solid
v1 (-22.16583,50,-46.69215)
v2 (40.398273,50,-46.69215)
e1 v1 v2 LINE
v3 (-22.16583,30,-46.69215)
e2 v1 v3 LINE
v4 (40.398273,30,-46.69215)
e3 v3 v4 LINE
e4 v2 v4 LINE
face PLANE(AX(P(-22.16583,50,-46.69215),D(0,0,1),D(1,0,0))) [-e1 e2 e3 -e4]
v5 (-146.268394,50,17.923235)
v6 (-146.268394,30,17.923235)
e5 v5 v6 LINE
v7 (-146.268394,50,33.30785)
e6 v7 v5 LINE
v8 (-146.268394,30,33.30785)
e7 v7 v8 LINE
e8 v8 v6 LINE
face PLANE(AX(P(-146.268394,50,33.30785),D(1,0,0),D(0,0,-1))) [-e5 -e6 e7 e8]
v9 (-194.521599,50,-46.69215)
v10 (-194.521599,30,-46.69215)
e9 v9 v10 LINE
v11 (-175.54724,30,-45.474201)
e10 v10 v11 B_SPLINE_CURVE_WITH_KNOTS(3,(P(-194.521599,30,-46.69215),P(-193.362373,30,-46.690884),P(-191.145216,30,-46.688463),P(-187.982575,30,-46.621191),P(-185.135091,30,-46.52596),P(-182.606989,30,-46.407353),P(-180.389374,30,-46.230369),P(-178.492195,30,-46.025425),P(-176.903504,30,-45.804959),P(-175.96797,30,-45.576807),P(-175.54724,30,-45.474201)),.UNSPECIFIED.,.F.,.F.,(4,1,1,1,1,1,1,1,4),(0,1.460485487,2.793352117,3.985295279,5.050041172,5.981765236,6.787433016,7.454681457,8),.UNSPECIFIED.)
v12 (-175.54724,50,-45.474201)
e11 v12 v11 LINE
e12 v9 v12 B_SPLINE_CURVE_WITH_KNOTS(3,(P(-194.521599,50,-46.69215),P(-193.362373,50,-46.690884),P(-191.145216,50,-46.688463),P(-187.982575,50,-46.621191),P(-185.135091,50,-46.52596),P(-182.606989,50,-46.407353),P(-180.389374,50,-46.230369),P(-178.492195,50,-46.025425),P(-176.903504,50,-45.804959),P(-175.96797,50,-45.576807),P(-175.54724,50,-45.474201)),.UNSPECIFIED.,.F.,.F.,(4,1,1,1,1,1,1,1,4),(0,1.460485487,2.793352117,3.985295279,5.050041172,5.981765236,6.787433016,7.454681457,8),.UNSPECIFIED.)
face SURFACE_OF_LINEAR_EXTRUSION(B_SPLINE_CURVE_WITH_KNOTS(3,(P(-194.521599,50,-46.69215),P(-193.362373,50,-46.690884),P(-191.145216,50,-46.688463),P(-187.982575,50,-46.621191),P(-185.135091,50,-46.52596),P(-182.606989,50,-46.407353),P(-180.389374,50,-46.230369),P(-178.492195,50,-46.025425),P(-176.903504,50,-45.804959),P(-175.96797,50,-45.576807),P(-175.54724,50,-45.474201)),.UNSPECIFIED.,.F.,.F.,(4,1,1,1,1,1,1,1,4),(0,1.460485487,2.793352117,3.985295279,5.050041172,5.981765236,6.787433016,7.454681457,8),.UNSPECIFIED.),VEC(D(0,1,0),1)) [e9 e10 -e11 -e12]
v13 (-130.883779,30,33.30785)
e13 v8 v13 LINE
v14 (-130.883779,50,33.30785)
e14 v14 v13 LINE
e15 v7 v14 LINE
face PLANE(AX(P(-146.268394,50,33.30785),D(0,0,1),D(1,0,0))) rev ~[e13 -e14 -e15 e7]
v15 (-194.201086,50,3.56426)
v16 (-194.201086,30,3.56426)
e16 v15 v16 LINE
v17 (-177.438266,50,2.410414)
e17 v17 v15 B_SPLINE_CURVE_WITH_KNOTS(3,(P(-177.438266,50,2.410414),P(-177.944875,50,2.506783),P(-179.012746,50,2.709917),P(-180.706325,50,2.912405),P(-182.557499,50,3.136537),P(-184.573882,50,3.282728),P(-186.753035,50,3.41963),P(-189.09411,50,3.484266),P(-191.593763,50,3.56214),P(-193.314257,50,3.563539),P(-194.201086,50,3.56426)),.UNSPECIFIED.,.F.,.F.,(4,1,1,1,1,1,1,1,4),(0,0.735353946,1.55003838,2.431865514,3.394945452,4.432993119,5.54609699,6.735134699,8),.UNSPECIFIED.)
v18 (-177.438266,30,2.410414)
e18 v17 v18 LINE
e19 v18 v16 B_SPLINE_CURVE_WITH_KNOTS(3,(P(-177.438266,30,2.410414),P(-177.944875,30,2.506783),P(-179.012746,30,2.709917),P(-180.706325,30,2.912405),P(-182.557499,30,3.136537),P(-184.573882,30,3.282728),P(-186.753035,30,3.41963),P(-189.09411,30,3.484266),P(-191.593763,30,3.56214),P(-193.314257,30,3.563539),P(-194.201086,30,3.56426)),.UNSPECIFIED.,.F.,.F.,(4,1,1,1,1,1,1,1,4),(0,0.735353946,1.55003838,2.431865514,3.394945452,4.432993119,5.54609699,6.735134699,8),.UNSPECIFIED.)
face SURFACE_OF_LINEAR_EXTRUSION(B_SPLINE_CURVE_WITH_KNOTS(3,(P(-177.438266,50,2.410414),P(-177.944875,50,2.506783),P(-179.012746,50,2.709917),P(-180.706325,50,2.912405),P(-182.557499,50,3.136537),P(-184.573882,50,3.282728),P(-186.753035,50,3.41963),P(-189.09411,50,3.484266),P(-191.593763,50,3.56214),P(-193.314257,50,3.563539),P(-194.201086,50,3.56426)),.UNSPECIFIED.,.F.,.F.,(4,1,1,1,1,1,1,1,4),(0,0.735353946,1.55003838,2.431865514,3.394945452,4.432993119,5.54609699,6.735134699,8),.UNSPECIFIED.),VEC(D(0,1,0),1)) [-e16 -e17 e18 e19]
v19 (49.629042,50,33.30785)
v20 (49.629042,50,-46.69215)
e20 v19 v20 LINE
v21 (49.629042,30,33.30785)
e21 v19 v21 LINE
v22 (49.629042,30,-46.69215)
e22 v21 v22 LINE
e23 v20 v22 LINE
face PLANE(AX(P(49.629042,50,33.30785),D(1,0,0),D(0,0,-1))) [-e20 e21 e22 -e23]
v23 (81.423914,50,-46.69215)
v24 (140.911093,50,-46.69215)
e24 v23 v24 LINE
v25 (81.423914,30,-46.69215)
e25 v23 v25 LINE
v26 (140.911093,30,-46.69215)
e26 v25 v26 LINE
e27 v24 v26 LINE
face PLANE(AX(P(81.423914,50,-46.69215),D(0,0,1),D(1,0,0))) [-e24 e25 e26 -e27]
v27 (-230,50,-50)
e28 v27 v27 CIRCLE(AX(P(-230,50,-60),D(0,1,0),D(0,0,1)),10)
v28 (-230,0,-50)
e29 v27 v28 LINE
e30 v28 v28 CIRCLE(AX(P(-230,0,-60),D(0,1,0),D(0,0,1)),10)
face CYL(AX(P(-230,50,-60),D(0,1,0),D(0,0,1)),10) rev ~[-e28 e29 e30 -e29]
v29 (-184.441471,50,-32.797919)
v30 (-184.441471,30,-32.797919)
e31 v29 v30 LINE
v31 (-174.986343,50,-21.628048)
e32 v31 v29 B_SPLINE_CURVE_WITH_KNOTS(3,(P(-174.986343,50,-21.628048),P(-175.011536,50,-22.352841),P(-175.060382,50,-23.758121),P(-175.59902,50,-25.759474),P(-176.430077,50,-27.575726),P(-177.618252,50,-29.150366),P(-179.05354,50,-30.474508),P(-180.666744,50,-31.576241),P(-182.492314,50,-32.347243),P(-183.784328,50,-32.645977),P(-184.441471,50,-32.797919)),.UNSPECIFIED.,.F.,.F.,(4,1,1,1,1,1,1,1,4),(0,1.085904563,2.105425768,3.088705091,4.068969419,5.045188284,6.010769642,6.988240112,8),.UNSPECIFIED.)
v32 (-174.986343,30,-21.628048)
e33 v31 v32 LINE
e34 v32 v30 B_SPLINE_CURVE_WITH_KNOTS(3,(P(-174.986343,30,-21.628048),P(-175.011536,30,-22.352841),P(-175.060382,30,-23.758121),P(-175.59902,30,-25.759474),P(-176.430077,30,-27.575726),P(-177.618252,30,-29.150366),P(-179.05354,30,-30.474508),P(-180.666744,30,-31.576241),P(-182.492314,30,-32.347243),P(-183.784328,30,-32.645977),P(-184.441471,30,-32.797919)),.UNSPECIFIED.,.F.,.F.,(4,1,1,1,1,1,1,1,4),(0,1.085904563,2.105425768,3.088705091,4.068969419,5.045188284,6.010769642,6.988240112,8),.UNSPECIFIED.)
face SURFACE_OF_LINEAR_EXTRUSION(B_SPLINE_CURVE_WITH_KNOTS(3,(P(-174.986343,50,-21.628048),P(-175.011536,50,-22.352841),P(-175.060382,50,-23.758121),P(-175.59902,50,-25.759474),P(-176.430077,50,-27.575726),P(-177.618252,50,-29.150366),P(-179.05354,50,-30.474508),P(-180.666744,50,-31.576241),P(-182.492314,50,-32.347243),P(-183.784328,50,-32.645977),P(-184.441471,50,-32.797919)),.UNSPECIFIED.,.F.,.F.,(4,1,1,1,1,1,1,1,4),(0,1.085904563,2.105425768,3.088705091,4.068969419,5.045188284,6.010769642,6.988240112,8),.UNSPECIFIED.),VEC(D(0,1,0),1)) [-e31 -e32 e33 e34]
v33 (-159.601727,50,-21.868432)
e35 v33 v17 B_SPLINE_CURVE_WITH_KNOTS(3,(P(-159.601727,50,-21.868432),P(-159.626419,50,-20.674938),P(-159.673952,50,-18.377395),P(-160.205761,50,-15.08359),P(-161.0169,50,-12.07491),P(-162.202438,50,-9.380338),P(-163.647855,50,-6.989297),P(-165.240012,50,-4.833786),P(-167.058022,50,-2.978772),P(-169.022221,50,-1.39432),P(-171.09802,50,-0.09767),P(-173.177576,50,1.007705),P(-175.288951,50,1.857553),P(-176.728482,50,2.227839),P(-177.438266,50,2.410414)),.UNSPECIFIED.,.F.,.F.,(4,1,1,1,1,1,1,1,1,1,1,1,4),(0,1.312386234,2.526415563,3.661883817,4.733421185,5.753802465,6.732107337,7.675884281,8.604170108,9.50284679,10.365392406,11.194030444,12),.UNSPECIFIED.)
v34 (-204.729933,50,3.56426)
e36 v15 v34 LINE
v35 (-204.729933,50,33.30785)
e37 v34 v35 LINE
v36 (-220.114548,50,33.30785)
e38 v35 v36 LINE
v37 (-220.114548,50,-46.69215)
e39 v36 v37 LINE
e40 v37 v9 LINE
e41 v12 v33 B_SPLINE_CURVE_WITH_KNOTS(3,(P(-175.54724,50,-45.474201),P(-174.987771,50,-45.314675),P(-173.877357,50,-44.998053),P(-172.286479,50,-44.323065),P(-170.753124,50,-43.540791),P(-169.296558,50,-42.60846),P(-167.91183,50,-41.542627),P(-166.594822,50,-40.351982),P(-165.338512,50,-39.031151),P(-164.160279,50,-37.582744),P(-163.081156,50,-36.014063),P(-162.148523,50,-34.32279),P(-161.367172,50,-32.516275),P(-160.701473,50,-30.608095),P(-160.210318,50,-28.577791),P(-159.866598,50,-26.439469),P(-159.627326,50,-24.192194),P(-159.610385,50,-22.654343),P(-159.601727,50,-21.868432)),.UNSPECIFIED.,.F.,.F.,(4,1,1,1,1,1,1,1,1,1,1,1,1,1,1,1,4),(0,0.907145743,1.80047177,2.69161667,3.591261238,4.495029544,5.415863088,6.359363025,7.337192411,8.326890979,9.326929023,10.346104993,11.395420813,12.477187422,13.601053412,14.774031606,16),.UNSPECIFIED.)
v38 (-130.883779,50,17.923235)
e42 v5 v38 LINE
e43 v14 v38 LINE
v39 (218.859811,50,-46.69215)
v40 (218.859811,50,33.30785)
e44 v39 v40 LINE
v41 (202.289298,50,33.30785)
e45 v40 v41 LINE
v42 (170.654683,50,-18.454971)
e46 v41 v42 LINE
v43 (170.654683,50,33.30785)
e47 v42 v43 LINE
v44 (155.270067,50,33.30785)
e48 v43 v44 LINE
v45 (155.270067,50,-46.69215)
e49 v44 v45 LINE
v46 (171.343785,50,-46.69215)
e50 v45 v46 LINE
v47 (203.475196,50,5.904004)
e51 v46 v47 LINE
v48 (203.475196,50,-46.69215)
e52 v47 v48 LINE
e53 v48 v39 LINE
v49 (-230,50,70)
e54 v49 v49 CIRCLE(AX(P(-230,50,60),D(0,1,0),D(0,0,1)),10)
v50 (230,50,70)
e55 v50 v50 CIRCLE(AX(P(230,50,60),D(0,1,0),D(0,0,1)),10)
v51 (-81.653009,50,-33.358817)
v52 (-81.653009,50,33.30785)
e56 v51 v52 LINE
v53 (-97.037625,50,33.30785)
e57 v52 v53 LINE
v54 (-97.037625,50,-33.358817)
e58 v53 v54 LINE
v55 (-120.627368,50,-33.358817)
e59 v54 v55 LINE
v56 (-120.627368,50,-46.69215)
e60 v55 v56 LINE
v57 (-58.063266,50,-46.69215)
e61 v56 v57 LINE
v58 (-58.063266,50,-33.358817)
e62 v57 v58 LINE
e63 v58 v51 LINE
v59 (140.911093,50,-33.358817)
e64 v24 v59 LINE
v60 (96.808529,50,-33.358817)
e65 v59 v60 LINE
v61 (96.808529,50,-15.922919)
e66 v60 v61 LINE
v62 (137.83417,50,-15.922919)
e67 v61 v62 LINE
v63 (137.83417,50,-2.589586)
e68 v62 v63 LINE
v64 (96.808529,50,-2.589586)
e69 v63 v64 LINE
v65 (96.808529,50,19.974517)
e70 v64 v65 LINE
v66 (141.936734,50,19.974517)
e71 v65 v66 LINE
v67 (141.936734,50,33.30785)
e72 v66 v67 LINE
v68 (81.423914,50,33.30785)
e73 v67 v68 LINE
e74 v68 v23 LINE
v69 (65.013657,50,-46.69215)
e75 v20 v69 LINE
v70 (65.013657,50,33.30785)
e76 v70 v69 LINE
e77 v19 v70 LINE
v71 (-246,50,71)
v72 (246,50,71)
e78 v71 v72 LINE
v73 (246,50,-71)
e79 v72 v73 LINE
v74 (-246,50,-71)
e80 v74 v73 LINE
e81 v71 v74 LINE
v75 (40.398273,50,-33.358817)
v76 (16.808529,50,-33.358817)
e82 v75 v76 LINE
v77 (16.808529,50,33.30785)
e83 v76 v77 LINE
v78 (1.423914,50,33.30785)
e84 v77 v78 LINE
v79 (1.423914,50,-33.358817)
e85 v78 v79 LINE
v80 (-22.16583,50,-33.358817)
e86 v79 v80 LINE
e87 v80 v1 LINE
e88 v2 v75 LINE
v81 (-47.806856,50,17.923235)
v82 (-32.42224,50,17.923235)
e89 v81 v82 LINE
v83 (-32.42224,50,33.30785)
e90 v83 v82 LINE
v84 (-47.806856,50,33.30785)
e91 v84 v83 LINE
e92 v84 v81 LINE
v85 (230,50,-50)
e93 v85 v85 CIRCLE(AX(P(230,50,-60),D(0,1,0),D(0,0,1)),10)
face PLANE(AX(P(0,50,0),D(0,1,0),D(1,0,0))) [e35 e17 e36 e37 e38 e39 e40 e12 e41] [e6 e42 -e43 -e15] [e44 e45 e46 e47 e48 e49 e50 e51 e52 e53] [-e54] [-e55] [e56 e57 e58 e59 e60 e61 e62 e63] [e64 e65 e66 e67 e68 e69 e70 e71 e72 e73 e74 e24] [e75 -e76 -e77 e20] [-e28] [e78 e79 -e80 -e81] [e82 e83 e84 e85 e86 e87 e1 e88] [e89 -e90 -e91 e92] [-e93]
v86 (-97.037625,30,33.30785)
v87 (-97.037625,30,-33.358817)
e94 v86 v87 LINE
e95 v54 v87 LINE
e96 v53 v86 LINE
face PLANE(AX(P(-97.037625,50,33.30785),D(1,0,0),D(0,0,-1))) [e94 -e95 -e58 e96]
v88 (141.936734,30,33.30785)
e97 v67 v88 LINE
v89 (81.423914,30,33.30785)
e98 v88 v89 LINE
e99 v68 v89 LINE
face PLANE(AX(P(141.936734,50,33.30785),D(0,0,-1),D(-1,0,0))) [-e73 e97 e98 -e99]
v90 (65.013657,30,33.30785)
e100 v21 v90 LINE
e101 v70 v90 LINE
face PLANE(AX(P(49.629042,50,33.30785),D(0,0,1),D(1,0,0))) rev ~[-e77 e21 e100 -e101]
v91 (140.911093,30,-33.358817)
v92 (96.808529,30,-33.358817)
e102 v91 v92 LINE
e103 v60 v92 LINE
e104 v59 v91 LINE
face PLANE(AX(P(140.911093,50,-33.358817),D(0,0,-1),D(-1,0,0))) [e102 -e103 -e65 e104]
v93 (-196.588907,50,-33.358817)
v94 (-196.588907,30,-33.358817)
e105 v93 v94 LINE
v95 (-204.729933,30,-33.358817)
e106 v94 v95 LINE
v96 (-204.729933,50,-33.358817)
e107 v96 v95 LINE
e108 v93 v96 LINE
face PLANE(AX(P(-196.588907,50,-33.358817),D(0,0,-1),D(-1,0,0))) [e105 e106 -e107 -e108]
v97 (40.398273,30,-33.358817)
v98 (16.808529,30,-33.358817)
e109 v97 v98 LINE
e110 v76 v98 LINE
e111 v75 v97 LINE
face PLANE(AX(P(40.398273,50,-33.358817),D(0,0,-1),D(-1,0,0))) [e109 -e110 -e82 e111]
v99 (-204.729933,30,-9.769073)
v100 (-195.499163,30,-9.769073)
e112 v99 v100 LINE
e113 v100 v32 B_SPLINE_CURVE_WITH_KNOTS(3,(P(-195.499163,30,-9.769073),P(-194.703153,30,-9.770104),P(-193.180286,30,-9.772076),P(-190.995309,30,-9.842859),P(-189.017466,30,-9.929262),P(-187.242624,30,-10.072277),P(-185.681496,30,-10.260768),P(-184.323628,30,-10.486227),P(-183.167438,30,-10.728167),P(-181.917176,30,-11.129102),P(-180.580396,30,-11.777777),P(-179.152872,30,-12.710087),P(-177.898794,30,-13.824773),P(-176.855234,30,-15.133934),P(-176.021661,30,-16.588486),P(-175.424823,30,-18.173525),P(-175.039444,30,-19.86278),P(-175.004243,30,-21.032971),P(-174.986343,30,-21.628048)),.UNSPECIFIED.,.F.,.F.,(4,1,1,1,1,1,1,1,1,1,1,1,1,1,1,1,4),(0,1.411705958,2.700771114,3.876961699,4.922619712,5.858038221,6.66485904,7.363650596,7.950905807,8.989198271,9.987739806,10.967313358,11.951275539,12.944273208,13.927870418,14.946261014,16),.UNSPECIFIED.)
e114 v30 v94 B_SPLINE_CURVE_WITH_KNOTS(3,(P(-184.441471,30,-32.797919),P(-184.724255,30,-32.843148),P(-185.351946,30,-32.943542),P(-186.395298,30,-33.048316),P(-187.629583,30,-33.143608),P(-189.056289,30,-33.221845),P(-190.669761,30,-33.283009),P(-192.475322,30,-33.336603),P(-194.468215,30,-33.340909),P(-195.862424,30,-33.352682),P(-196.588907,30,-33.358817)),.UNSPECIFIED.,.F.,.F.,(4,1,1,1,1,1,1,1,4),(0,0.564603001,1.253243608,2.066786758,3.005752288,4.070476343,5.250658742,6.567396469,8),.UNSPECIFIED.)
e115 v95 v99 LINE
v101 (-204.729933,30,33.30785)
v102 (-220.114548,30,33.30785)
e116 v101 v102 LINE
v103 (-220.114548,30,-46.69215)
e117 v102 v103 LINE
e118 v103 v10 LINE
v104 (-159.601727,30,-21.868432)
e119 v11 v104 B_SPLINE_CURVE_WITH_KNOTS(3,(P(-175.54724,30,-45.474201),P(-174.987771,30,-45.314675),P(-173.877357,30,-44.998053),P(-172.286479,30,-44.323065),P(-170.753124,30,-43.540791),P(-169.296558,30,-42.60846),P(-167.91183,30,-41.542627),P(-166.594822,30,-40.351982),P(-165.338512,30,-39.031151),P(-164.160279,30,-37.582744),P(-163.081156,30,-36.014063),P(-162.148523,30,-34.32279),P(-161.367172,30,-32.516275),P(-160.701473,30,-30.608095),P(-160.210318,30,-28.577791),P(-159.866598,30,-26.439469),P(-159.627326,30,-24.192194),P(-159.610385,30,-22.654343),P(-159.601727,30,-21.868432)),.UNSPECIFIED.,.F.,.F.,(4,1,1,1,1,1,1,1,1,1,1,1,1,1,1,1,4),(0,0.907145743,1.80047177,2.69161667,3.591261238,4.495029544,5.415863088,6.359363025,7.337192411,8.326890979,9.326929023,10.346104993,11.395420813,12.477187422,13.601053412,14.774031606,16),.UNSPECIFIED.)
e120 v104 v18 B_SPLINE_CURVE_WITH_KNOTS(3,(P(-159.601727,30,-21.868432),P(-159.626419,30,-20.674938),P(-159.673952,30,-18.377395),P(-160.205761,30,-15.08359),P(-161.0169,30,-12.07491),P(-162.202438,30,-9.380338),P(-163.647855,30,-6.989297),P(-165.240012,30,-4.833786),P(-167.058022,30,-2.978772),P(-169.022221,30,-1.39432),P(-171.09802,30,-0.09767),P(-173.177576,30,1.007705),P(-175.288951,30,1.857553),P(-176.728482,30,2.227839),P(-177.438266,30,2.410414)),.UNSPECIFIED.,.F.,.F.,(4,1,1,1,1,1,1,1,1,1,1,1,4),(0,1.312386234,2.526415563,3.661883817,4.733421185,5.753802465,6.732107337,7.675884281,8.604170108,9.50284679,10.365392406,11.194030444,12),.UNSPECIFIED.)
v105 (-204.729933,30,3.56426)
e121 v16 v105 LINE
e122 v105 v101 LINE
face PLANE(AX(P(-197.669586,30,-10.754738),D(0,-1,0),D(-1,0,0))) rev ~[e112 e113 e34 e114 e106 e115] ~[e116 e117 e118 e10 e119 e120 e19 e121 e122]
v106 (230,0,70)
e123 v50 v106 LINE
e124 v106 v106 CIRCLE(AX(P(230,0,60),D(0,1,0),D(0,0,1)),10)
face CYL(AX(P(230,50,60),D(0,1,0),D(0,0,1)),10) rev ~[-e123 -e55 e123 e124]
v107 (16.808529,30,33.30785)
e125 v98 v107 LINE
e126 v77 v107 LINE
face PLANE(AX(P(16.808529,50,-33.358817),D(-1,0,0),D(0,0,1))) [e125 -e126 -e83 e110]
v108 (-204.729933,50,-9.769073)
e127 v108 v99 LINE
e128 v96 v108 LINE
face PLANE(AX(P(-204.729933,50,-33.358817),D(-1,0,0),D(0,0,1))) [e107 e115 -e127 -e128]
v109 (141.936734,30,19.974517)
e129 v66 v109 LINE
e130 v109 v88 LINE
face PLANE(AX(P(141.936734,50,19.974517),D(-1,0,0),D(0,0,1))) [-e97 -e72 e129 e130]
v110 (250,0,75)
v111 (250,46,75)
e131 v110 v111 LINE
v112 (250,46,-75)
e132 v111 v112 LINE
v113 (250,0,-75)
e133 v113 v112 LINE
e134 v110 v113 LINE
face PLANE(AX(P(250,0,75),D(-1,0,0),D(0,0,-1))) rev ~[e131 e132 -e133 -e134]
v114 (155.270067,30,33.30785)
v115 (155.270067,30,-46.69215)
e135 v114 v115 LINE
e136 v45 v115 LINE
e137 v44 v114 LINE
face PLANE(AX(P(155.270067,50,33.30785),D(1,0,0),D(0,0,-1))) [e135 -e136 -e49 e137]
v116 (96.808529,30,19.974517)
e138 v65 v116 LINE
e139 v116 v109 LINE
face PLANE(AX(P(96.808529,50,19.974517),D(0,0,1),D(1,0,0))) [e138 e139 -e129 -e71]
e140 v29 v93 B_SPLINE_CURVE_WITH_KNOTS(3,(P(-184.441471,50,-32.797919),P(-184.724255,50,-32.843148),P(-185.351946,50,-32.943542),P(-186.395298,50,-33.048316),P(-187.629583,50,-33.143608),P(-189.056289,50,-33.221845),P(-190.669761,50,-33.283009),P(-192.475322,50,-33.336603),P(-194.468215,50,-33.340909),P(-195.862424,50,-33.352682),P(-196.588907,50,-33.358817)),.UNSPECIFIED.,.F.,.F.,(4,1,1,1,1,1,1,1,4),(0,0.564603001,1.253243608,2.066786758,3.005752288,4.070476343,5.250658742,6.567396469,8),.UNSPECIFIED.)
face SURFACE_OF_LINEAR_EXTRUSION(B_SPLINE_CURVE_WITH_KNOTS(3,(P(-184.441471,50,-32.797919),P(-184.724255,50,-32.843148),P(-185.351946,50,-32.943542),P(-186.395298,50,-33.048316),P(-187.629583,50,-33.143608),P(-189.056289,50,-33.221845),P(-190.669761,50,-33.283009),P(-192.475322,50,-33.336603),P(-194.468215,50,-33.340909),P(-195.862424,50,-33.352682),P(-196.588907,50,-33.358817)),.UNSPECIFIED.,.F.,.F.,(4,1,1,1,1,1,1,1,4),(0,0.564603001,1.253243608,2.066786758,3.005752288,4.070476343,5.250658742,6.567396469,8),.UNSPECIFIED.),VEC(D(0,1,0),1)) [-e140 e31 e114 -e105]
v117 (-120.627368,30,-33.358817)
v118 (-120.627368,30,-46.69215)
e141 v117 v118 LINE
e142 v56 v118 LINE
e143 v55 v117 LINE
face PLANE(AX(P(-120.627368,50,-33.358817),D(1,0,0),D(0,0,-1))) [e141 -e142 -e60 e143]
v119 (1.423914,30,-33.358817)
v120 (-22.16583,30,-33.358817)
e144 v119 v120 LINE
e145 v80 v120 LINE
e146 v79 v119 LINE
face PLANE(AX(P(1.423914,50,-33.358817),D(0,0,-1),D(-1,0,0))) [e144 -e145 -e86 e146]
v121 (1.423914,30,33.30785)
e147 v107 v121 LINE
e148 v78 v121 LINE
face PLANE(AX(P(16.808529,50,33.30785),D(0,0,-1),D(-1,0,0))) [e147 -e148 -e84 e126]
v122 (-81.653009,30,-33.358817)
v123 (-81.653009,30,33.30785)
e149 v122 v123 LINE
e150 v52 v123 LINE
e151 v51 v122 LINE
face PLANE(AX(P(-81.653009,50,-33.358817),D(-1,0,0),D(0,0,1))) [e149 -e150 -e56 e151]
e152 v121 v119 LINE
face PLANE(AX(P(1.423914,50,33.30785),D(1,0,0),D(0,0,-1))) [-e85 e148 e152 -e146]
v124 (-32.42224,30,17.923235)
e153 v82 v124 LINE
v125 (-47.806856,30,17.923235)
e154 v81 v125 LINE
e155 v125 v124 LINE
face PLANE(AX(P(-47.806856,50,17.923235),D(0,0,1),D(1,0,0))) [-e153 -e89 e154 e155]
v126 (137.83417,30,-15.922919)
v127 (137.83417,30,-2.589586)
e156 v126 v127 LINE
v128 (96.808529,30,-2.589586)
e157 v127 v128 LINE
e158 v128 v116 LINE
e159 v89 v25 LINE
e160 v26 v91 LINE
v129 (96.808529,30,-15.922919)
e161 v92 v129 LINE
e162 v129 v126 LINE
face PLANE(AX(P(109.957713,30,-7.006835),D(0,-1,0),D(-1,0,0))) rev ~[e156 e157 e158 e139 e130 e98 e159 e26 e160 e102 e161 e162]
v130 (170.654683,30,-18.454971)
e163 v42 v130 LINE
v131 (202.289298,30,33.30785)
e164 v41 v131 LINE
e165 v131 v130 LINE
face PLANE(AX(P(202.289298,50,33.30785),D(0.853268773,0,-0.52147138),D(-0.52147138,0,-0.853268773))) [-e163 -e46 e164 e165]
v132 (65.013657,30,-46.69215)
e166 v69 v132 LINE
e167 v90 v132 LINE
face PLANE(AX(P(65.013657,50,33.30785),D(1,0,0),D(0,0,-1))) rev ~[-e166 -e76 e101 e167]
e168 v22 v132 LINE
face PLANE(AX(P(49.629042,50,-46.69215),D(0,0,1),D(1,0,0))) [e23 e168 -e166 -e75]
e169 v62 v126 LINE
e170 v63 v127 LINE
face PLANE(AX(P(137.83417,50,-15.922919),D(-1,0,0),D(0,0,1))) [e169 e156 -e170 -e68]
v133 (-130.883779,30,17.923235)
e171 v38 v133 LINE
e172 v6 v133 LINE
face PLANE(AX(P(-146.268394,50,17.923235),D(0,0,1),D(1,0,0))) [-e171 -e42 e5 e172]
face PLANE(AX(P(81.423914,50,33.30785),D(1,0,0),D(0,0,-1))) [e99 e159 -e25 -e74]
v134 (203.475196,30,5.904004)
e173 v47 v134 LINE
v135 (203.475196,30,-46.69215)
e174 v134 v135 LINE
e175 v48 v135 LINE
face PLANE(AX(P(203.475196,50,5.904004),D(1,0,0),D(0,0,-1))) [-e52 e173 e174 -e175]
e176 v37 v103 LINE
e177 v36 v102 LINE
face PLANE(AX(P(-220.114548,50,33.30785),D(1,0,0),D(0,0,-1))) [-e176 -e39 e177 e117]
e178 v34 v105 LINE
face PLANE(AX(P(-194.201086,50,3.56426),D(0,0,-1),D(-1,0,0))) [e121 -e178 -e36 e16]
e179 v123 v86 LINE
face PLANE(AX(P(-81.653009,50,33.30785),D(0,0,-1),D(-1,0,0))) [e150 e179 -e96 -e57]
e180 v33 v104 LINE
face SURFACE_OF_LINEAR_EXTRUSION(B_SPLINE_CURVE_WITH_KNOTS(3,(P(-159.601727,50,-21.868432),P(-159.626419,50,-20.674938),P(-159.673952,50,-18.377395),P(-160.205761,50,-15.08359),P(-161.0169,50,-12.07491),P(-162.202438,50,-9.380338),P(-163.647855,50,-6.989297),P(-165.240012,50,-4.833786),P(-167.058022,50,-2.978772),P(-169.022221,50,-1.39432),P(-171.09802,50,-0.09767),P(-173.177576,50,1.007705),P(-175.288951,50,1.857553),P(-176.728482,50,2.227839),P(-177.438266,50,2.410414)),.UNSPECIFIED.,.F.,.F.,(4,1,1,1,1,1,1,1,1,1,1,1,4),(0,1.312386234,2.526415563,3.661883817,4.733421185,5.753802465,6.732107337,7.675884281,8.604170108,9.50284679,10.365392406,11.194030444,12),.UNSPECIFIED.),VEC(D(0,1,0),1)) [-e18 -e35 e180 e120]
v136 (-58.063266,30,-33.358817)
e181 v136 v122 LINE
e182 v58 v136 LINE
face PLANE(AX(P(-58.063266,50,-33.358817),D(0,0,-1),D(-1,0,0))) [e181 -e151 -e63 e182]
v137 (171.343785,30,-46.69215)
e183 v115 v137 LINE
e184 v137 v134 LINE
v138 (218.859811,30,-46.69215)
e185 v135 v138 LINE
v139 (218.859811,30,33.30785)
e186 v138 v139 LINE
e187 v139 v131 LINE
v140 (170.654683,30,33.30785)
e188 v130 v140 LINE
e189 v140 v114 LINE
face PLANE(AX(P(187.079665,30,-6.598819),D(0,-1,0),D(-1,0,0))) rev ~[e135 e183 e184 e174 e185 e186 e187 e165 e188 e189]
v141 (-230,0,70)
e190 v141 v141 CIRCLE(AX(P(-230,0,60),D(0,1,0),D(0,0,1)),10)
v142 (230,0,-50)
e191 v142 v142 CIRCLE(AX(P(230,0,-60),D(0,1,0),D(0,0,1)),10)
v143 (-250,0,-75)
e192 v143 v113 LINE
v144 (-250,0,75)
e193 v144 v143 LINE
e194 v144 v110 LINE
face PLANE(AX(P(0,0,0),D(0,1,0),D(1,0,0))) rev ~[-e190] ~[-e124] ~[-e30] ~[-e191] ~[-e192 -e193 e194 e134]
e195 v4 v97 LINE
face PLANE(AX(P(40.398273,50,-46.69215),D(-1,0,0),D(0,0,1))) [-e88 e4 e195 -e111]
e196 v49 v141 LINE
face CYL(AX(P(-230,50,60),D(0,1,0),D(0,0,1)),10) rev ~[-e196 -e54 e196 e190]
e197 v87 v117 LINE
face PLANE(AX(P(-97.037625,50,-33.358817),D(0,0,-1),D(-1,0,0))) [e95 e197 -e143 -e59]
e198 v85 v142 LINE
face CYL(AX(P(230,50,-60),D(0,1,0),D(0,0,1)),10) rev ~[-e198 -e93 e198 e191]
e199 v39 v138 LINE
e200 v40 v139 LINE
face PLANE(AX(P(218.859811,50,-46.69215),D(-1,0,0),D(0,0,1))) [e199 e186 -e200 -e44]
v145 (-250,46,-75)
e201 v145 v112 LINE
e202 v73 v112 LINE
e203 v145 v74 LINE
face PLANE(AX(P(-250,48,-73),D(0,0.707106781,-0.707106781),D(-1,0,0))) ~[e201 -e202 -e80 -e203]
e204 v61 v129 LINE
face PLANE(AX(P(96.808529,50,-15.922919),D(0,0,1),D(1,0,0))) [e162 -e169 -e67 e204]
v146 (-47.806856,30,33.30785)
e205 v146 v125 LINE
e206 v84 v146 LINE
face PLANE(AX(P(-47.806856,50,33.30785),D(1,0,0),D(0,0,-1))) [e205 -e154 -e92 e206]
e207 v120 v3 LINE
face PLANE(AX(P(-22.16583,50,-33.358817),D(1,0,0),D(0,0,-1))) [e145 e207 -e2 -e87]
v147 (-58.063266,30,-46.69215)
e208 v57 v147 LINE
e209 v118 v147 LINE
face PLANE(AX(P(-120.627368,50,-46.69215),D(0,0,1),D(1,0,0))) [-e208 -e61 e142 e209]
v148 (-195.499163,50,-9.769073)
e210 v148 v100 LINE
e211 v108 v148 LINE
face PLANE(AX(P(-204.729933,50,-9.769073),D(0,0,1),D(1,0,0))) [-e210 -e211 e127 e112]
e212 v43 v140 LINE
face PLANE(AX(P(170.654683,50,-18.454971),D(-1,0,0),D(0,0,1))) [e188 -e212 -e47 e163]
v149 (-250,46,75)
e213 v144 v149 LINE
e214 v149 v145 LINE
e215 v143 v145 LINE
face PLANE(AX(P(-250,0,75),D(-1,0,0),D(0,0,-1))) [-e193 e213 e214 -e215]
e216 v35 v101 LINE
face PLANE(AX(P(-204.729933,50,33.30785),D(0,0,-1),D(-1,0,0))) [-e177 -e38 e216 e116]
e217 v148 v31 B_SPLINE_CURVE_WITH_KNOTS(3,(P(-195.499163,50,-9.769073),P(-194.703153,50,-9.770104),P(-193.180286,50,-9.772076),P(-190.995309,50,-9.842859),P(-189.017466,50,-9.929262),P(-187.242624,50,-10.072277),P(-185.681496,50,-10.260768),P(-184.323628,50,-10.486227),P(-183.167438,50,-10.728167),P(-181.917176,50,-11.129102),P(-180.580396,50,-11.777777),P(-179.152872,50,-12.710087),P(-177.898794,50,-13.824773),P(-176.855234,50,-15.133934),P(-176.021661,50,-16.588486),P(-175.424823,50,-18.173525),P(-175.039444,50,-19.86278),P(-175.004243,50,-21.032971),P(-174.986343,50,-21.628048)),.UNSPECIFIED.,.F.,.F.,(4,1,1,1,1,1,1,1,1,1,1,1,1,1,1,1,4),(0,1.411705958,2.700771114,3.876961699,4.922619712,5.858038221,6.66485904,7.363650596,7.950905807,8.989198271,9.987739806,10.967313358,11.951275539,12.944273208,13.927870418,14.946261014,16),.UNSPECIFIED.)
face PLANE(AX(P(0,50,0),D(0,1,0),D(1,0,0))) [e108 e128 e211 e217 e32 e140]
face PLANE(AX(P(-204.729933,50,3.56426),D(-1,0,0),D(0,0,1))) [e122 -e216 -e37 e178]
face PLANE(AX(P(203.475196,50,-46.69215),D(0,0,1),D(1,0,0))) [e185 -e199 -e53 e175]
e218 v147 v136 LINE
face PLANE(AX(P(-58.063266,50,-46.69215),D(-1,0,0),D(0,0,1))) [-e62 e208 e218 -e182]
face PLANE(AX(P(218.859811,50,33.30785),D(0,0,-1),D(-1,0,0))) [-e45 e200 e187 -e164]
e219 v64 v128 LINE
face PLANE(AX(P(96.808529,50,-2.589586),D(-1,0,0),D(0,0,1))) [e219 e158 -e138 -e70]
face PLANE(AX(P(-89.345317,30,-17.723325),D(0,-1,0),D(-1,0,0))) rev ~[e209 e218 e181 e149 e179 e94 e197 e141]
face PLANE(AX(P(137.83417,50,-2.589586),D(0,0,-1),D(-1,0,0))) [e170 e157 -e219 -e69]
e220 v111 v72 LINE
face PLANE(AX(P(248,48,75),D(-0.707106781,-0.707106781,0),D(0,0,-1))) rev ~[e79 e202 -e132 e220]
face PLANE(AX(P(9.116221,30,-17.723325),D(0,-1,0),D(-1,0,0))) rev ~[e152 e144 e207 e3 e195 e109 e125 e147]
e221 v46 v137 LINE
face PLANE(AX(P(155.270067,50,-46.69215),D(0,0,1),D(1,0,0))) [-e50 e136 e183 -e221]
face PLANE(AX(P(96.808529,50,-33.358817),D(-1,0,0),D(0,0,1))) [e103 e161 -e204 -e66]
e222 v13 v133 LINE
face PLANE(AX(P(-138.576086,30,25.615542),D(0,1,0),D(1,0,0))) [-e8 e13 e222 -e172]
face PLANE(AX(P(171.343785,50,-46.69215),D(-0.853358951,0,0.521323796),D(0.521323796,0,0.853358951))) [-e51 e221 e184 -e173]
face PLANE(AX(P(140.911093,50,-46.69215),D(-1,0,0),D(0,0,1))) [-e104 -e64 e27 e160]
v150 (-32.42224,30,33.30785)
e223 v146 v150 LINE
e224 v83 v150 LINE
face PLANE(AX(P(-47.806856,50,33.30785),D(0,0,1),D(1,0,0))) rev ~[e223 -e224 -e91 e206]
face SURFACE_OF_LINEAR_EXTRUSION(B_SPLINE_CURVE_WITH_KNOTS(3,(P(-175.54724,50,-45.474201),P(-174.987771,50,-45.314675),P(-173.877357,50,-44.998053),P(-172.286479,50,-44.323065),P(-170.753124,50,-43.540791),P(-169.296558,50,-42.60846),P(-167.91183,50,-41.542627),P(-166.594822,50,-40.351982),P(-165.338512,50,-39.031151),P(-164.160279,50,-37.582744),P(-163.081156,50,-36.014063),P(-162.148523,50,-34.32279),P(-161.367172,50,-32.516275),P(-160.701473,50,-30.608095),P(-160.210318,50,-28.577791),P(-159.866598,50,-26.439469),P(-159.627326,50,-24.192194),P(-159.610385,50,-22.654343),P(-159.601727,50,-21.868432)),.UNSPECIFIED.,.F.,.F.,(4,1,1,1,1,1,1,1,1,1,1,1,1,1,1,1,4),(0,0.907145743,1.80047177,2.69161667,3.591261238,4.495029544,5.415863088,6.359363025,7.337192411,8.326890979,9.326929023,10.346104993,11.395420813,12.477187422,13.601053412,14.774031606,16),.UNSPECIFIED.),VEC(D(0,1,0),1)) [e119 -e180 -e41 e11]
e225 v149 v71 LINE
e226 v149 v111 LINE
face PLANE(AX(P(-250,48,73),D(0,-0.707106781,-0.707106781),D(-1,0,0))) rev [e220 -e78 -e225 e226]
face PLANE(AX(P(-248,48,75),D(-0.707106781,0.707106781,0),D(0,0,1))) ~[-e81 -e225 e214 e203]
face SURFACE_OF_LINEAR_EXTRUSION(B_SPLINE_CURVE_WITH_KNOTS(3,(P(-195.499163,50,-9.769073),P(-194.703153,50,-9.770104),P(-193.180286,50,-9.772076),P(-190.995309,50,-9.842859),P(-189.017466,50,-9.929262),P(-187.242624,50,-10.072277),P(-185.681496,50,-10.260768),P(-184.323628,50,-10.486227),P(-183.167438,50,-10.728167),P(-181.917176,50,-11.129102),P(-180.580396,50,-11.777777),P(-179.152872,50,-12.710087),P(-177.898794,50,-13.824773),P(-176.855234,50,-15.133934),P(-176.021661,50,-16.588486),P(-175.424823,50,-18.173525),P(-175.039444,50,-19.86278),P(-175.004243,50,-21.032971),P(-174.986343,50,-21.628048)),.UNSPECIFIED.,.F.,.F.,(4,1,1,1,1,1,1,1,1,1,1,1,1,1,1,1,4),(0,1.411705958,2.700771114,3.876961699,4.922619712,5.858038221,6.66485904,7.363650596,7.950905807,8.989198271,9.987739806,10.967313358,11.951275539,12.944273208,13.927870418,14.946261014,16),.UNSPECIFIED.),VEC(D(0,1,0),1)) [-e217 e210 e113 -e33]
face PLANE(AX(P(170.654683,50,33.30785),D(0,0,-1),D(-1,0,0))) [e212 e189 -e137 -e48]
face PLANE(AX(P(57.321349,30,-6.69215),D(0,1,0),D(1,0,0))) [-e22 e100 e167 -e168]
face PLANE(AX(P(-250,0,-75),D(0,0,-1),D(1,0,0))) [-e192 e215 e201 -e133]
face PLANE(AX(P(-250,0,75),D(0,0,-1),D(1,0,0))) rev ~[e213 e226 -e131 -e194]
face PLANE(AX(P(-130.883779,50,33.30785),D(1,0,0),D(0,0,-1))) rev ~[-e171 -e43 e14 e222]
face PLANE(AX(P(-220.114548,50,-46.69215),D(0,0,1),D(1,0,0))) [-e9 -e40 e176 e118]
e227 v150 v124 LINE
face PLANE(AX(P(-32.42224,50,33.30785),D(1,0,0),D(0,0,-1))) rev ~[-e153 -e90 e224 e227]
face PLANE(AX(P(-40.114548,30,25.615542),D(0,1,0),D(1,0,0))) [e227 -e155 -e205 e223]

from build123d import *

# Parameters (mm, degrees)
SKETCH1_W           = 500
SKETCH1_H           = 150
BOSS_EXTRUDE1_DEPTH = 50
SKETCH2_W           = 15.384615385
SKETCH2_H           = 15.384615384
SKETCH2_W_2         = 15.384615384
SKETCH2_H_2         = 80
CUT_EXTRUDE1_DEPTH  = 20
SKETCH3_R           = 10
CUT_EXTRUDE2_DEPTH  = 266.753645441
CHAMFER1_SIZE       = 4


with BuildPart() as part:
    # Sketch1 → Boss-Extrude1 (new body)
    with BuildSketch(Plane(origin=(0, 0, 0), x_dir=(1, 0, 0), z_dir=(0, 1, 0))):
        Rectangle(SKETCH1_W, SKETCH1_H)
    extrude(amount=BOSS_EXTRUDE1_DEPTH)

    # Sketch2 → Cut-Extrude1 (cut)
    # profile 1 of 8: a face of its own
    with BuildSketch(Plane(origin=(0, 50, 0), x_dir=(1, 0, 0), z_dir=(0, 1, 0))):
        with BuildLine():
            Line((-220.114547961, -33.307849889), (-220.114547961, 46.692150111))
            Line((-220.114547961, 46.692150111), (-194.521599243, 46.692150111))
            add(Edge.make_bspline(
                [(-194.521599243, 46.692150111), (-193.362373318, 46.690884181), (-191.145215926, 46.68846294), (-187.982575017, 46.621190731), (-185.135090695, 46.525959504), (-182.606989081, 46.407353042), (-180.389374452, 46.23036942), (-178.492194776, 46.025425049), (-176.903503637, 45.804959291), (-175.967970488, 45.576806717), (-175.547240269, 45.474201393)],
                knots=[0, 0, 0, 0, 1.460485487, 2.793352117, 3.985295279, 5.050041172, 5.981765236, 6.787433016, 7.454681457, 8, 8, 8, 8], degree=3))
            add(Edge.make_bspline(
                [(-175.547240269, 45.474201393), (-174.987771388, 45.314675255), (-173.877356736, 44.998053247), (-172.286478808, 44.323065419), (-170.753124402, 43.540790537), (-169.296558471, 42.608460279), (-167.911829693, 41.542626797), (-166.594822019, 40.351982104), (-165.338512035, 39.03115138), (-164.160279176, 37.582743847), (-163.081156481, 36.014063129), (-162.148523341, 34.322789965), (-161.367171772, 32.516275498), (-160.701473221, 30.608095458), (-160.210317655, 28.577791061), (-159.866598053, 26.439469094), (-159.627326323, 24.1921943), (-159.610385144, 22.654342715), (-159.601727448, 21.868432162)],
                knots=[0, 0, 0, 0, 0.907145743, 1.80047177, 2.69161667, 3.591261238, 4.495029544, 5.415863088, 6.359363025, 7.337192411, 8.326890979, 9.326929023, 10.346104993, 11.395420813, 12.477187422, 13.601053412, 14.774031606, 16, 16, 16, 16], degree=3))
            add(Edge.make_bspline(
                [(-159.601727448, 21.868432162), (-159.626419152, 20.674937637), (-159.673952037, 18.377395143), (-160.205760683, 15.083589507), (-161.016899695, 12.074910394), (-162.202437968, 9.380337629), (-163.647855404, 6.989297258), (-165.240012468, 4.833785656), (-167.058021858, 2.978772131), (-169.022220631, 1.394320163), (-171.098019744, 0.097670408), (-173.177576478, -1.007705098), (-175.288951411, -1.857553106), (-176.728482139, -2.227838717), (-177.43826591, -2.410413992)],
                knots=[0, 0, 0, 0, 1.312386234, 2.526415563, 3.661883817, 4.733421185, 5.753802465, 6.732107337, 7.675884281, 8.604170108, 9.50284679, 10.365392406, 11.194030444, 12, 12, 12, 12], degree=3))
            add(Edge.make_bspline(
                [(-177.43826591, -2.410413992), (-177.944874755, -2.5067829), (-179.012745754, -2.70991706), (-180.706325278, -2.912404846), (-182.557499482, -3.136536749), (-184.573882373, -3.282728169), (-186.753034651, -3.419630304), (-189.094110145, -3.484266322), (-191.593763206, -3.562139599), (-193.314257132, -3.563538884), (-194.201086423, -3.564260146)],
                knots=[0, 0, 0, 0, 0.735353946, 1.55003838, 2.431865514, 3.394945452, 4.432993119, 5.54609699, 6.735134699, 8, 8, 8, 8], degree=3))
            Line((-194.201086423, -3.564260146), (-204.729932576, -3.564260146))
            Line((-204.729932576, -3.564260146), (-204.729932576, -33.307849889))
            Line((-204.729932576, -33.307849889), (-220.114547961, -33.307849889))
        make_face()
        with BuildLine():
            Line((-204.729932576, 33.358816777), (-204.729932576, 9.769073188))
            Line((-204.729932576, 9.769073188), (-195.499163346, 9.769073188))
            add(Edge.make_bspline(
                [(-195.499163346, 9.769073188), (-194.703153264, 9.770103954), (-193.180285827, 9.772075938), (-190.995308866, 9.842858626), (-189.017465651, 9.929262023), (-187.242623546, 10.072277323), (-185.681495968, 10.26076807), (-184.32362843, 10.486226744), (-183.167438366, 10.728167456), (-181.917176214, 11.129101986), (-180.580396005, 11.777777497), (-179.152871842, 12.710087135), (-177.89879355, 13.824773264), (-176.855234189, 15.133933521), (-176.021661303, 16.588486417), (-175.42482251, 18.173525213), (-175.039444262, 19.862780272), (-175.004243472, 21.03297104), (-174.986342833, 21.628047547)],
                knots=[0, 0, 0, 0, 1.411705958, 2.700771114, 3.876961699, 4.922619712, 5.858038221, 6.66485904, 7.363650596, 7.950905807, 8.989198271, 9.987739806, 10.967313358, 11.951275539, 12.944273208, 13.927870418, 14.946261014, 16, 16, 16, 16], degree=3))
            add(Edge.make_bspline(
                [(-174.986342833, 21.628047547), (-175.011536019, 22.35284144), (-175.060382286, 23.758121234), (-175.599020255, 25.759474192), (-176.43007709, 27.575726264), (-177.618252422, 29.15036565), (-179.053540257, 30.474507882), (-180.666743883, 31.576241297), (-182.492313993, 32.347242727), (-183.784328311, 32.645977321), (-184.441471038, 32.797919342)],
                knots=[0, 0, 0, 0, 1.085904563, 2.105425768, 3.088705091, 4.068969419, 5.045188284, 6.010769642, 6.988240112, 8, 8, 8, 8], degree=3))
            add(Edge.make_bspline(
                [(-184.441471038, 32.797919342), (-184.724254567, 32.843148261), (-185.351946325, 32.94354244), (-186.39529777, 33.048316251), (-187.629582692, 33.143607927), (-189.056288904, 33.22184524), (-190.669761298, 33.283008702), (-192.475321832, 33.33660298), (-194.468215217, 33.340908569), (-195.862424259, 33.352681985), (-196.588906935, 33.358816777)],
                knots=[0, 0, 0, 0, 0.564603001, 1.253243608, 2.066786758, 3.005752288, 4.070476343, 5.250658742, 6.567396469, 8, 8, 8, 8], degree=3))
            Line((-196.588906935, 33.358816777), (-204.729932576, 33.358816777))
        make_face(mode=Mode.SUBTRACT)
    # profile 2 of 8: a face of its own
    with BuildSketch(Plane(origin=(0, 50, 0), x_dir=(1, 0, 0), z_dir=(0, 1, 0))):
        with Locations((-138.576086422, -25.615542197)):
            Rectangle(SKETCH2_W, SKETCH2_H)
    # profile 3 of 8: a face of its own
    with BuildSketch(Plane(origin=(0, 50, 0), x_dir=(1, 0, 0), z_dir=(0, 1, 0))):
        Polygon((-97.037624884, -33.307849889), (-97.037624884, 33.358816777), (-120.627368474, 33.358816777), (-120.627368474, 46.692150111), (-58.06326591, 46.692150111), (-58.06326591, 33.358816777), (-81.653009499, 33.358816777), (-81.653009499, -33.307849889), align=None)
    # profile 4 of 8: a face of its own
    with BuildSketch(Plane(origin=(0, 50, 0), x_dir=(1, 0, 0), z_dir=(0, 1, 0))):
        with Locations((-40.114547961, -25.615542197)):
            Rectangle(SKETCH2_W_2, SKETCH2_H)
    # profile 5 of 8: a face of its own
    with BuildSketch(Plane(origin=(0, 50, 0), x_dir=(1, 0, 0), z_dir=(0, 1, 0))):
        Polygon((1.423913577, -33.307849889), (1.423913577, 33.358816777), (-22.165830012, 33.358816777), (-22.165830012, 46.692150111), (40.398272552, 46.692150111), (40.398272552, 33.358816777), (16.808528962, 33.358816777), (16.808528962, -33.307849889), align=None)
    # profile 6 of 8: a face of its own
    with BuildSketch(Plane(origin=(0, 50, 0), x_dir=(1, 0, 0), z_dir=(0, 1, 0))):
        with Locations((57.321349475, 6.692150111)):
            Rectangle(SKETCH2_W_2, SKETCH2_H_2)
    # profile 7 of 8: a face of its own
    with BuildSketch(Plane(origin=(0, 50, 0), x_dir=(1, 0, 0), z_dir=(0, 1, 0))):
        Polygon((81.423913577, -33.307849889), (81.423913577, 46.692150111), (140.911093065, 46.692150111), (140.911093065, 33.358816777), (96.808528962, 33.358816777), (96.808528962, 15.922919342), (137.834169988, 15.922919342), (137.834169988, 2.589586008), (96.808528962, 2.589586008), (96.808528962, -19.974516556), (141.93673409, -19.974516556), (141.93673409, -33.307849889), align=None)
    # profile 8 of 8: a face of its own
    with BuildSketch(Plane(origin=(0, 50, 0), x_dir=(1, 0, 0), z_dir=(0, 1, 0))):
        Polygon((155.270067424, -33.307849889), (155.270067424, 46.692150111), (171.343785372, 46.692150111), (203.475195629, -5.904003735), (203.475195629, 46.692150111), (218.859811013, 46.692150111), (218.859811013, -33.307849889), (202.289298193, -33.307849889), (170.654682808, 18.454970624), (170.654682808, -33.307849889), align=None)
    extrude(amount=-CUT_EXTRUDE1_DEPTH, mode=Mode.SUBTRACT)

    # Sketch3 → Cut-Extrude2 (cut, through all)
    with BuildSketch(Plane(origin=(0, 50, 0), x_dir=(1, 0, 0), z_dir=(0, 1, 0))):
        with Locations(Location((-230, 60, 0), (0, 0, 270))):
            Circle(SKETCH3_R)
        with Locations(Location((-230, -60, 0), (0, 0, 270))):
            Circle(SKETCH3_R)
        with Locations(Location((230, -60, 0), (0, 0, 270))):
            Circle(SKETCH3_R)
        with Locations(Location((230, 60, 0), (0, 0, 270))):
            Circle(SKETCH3_R)
    extrude(amount=-CUT_EXTRUDE2_DEPTH, mode=Mode.SUBTRACT)

    # Chamfer1
    chamfer1_edges = [part.edges().sort_by_distance(p)[0] for p in [
        (-250, 50, 0),
        (0, 50, 75),
        (250, 50, 0),
        (0, 50, -75),
    ]]
    chamfer(chamfer1_edges, length=CHAMFER1_SIZE)


solid = part.part
